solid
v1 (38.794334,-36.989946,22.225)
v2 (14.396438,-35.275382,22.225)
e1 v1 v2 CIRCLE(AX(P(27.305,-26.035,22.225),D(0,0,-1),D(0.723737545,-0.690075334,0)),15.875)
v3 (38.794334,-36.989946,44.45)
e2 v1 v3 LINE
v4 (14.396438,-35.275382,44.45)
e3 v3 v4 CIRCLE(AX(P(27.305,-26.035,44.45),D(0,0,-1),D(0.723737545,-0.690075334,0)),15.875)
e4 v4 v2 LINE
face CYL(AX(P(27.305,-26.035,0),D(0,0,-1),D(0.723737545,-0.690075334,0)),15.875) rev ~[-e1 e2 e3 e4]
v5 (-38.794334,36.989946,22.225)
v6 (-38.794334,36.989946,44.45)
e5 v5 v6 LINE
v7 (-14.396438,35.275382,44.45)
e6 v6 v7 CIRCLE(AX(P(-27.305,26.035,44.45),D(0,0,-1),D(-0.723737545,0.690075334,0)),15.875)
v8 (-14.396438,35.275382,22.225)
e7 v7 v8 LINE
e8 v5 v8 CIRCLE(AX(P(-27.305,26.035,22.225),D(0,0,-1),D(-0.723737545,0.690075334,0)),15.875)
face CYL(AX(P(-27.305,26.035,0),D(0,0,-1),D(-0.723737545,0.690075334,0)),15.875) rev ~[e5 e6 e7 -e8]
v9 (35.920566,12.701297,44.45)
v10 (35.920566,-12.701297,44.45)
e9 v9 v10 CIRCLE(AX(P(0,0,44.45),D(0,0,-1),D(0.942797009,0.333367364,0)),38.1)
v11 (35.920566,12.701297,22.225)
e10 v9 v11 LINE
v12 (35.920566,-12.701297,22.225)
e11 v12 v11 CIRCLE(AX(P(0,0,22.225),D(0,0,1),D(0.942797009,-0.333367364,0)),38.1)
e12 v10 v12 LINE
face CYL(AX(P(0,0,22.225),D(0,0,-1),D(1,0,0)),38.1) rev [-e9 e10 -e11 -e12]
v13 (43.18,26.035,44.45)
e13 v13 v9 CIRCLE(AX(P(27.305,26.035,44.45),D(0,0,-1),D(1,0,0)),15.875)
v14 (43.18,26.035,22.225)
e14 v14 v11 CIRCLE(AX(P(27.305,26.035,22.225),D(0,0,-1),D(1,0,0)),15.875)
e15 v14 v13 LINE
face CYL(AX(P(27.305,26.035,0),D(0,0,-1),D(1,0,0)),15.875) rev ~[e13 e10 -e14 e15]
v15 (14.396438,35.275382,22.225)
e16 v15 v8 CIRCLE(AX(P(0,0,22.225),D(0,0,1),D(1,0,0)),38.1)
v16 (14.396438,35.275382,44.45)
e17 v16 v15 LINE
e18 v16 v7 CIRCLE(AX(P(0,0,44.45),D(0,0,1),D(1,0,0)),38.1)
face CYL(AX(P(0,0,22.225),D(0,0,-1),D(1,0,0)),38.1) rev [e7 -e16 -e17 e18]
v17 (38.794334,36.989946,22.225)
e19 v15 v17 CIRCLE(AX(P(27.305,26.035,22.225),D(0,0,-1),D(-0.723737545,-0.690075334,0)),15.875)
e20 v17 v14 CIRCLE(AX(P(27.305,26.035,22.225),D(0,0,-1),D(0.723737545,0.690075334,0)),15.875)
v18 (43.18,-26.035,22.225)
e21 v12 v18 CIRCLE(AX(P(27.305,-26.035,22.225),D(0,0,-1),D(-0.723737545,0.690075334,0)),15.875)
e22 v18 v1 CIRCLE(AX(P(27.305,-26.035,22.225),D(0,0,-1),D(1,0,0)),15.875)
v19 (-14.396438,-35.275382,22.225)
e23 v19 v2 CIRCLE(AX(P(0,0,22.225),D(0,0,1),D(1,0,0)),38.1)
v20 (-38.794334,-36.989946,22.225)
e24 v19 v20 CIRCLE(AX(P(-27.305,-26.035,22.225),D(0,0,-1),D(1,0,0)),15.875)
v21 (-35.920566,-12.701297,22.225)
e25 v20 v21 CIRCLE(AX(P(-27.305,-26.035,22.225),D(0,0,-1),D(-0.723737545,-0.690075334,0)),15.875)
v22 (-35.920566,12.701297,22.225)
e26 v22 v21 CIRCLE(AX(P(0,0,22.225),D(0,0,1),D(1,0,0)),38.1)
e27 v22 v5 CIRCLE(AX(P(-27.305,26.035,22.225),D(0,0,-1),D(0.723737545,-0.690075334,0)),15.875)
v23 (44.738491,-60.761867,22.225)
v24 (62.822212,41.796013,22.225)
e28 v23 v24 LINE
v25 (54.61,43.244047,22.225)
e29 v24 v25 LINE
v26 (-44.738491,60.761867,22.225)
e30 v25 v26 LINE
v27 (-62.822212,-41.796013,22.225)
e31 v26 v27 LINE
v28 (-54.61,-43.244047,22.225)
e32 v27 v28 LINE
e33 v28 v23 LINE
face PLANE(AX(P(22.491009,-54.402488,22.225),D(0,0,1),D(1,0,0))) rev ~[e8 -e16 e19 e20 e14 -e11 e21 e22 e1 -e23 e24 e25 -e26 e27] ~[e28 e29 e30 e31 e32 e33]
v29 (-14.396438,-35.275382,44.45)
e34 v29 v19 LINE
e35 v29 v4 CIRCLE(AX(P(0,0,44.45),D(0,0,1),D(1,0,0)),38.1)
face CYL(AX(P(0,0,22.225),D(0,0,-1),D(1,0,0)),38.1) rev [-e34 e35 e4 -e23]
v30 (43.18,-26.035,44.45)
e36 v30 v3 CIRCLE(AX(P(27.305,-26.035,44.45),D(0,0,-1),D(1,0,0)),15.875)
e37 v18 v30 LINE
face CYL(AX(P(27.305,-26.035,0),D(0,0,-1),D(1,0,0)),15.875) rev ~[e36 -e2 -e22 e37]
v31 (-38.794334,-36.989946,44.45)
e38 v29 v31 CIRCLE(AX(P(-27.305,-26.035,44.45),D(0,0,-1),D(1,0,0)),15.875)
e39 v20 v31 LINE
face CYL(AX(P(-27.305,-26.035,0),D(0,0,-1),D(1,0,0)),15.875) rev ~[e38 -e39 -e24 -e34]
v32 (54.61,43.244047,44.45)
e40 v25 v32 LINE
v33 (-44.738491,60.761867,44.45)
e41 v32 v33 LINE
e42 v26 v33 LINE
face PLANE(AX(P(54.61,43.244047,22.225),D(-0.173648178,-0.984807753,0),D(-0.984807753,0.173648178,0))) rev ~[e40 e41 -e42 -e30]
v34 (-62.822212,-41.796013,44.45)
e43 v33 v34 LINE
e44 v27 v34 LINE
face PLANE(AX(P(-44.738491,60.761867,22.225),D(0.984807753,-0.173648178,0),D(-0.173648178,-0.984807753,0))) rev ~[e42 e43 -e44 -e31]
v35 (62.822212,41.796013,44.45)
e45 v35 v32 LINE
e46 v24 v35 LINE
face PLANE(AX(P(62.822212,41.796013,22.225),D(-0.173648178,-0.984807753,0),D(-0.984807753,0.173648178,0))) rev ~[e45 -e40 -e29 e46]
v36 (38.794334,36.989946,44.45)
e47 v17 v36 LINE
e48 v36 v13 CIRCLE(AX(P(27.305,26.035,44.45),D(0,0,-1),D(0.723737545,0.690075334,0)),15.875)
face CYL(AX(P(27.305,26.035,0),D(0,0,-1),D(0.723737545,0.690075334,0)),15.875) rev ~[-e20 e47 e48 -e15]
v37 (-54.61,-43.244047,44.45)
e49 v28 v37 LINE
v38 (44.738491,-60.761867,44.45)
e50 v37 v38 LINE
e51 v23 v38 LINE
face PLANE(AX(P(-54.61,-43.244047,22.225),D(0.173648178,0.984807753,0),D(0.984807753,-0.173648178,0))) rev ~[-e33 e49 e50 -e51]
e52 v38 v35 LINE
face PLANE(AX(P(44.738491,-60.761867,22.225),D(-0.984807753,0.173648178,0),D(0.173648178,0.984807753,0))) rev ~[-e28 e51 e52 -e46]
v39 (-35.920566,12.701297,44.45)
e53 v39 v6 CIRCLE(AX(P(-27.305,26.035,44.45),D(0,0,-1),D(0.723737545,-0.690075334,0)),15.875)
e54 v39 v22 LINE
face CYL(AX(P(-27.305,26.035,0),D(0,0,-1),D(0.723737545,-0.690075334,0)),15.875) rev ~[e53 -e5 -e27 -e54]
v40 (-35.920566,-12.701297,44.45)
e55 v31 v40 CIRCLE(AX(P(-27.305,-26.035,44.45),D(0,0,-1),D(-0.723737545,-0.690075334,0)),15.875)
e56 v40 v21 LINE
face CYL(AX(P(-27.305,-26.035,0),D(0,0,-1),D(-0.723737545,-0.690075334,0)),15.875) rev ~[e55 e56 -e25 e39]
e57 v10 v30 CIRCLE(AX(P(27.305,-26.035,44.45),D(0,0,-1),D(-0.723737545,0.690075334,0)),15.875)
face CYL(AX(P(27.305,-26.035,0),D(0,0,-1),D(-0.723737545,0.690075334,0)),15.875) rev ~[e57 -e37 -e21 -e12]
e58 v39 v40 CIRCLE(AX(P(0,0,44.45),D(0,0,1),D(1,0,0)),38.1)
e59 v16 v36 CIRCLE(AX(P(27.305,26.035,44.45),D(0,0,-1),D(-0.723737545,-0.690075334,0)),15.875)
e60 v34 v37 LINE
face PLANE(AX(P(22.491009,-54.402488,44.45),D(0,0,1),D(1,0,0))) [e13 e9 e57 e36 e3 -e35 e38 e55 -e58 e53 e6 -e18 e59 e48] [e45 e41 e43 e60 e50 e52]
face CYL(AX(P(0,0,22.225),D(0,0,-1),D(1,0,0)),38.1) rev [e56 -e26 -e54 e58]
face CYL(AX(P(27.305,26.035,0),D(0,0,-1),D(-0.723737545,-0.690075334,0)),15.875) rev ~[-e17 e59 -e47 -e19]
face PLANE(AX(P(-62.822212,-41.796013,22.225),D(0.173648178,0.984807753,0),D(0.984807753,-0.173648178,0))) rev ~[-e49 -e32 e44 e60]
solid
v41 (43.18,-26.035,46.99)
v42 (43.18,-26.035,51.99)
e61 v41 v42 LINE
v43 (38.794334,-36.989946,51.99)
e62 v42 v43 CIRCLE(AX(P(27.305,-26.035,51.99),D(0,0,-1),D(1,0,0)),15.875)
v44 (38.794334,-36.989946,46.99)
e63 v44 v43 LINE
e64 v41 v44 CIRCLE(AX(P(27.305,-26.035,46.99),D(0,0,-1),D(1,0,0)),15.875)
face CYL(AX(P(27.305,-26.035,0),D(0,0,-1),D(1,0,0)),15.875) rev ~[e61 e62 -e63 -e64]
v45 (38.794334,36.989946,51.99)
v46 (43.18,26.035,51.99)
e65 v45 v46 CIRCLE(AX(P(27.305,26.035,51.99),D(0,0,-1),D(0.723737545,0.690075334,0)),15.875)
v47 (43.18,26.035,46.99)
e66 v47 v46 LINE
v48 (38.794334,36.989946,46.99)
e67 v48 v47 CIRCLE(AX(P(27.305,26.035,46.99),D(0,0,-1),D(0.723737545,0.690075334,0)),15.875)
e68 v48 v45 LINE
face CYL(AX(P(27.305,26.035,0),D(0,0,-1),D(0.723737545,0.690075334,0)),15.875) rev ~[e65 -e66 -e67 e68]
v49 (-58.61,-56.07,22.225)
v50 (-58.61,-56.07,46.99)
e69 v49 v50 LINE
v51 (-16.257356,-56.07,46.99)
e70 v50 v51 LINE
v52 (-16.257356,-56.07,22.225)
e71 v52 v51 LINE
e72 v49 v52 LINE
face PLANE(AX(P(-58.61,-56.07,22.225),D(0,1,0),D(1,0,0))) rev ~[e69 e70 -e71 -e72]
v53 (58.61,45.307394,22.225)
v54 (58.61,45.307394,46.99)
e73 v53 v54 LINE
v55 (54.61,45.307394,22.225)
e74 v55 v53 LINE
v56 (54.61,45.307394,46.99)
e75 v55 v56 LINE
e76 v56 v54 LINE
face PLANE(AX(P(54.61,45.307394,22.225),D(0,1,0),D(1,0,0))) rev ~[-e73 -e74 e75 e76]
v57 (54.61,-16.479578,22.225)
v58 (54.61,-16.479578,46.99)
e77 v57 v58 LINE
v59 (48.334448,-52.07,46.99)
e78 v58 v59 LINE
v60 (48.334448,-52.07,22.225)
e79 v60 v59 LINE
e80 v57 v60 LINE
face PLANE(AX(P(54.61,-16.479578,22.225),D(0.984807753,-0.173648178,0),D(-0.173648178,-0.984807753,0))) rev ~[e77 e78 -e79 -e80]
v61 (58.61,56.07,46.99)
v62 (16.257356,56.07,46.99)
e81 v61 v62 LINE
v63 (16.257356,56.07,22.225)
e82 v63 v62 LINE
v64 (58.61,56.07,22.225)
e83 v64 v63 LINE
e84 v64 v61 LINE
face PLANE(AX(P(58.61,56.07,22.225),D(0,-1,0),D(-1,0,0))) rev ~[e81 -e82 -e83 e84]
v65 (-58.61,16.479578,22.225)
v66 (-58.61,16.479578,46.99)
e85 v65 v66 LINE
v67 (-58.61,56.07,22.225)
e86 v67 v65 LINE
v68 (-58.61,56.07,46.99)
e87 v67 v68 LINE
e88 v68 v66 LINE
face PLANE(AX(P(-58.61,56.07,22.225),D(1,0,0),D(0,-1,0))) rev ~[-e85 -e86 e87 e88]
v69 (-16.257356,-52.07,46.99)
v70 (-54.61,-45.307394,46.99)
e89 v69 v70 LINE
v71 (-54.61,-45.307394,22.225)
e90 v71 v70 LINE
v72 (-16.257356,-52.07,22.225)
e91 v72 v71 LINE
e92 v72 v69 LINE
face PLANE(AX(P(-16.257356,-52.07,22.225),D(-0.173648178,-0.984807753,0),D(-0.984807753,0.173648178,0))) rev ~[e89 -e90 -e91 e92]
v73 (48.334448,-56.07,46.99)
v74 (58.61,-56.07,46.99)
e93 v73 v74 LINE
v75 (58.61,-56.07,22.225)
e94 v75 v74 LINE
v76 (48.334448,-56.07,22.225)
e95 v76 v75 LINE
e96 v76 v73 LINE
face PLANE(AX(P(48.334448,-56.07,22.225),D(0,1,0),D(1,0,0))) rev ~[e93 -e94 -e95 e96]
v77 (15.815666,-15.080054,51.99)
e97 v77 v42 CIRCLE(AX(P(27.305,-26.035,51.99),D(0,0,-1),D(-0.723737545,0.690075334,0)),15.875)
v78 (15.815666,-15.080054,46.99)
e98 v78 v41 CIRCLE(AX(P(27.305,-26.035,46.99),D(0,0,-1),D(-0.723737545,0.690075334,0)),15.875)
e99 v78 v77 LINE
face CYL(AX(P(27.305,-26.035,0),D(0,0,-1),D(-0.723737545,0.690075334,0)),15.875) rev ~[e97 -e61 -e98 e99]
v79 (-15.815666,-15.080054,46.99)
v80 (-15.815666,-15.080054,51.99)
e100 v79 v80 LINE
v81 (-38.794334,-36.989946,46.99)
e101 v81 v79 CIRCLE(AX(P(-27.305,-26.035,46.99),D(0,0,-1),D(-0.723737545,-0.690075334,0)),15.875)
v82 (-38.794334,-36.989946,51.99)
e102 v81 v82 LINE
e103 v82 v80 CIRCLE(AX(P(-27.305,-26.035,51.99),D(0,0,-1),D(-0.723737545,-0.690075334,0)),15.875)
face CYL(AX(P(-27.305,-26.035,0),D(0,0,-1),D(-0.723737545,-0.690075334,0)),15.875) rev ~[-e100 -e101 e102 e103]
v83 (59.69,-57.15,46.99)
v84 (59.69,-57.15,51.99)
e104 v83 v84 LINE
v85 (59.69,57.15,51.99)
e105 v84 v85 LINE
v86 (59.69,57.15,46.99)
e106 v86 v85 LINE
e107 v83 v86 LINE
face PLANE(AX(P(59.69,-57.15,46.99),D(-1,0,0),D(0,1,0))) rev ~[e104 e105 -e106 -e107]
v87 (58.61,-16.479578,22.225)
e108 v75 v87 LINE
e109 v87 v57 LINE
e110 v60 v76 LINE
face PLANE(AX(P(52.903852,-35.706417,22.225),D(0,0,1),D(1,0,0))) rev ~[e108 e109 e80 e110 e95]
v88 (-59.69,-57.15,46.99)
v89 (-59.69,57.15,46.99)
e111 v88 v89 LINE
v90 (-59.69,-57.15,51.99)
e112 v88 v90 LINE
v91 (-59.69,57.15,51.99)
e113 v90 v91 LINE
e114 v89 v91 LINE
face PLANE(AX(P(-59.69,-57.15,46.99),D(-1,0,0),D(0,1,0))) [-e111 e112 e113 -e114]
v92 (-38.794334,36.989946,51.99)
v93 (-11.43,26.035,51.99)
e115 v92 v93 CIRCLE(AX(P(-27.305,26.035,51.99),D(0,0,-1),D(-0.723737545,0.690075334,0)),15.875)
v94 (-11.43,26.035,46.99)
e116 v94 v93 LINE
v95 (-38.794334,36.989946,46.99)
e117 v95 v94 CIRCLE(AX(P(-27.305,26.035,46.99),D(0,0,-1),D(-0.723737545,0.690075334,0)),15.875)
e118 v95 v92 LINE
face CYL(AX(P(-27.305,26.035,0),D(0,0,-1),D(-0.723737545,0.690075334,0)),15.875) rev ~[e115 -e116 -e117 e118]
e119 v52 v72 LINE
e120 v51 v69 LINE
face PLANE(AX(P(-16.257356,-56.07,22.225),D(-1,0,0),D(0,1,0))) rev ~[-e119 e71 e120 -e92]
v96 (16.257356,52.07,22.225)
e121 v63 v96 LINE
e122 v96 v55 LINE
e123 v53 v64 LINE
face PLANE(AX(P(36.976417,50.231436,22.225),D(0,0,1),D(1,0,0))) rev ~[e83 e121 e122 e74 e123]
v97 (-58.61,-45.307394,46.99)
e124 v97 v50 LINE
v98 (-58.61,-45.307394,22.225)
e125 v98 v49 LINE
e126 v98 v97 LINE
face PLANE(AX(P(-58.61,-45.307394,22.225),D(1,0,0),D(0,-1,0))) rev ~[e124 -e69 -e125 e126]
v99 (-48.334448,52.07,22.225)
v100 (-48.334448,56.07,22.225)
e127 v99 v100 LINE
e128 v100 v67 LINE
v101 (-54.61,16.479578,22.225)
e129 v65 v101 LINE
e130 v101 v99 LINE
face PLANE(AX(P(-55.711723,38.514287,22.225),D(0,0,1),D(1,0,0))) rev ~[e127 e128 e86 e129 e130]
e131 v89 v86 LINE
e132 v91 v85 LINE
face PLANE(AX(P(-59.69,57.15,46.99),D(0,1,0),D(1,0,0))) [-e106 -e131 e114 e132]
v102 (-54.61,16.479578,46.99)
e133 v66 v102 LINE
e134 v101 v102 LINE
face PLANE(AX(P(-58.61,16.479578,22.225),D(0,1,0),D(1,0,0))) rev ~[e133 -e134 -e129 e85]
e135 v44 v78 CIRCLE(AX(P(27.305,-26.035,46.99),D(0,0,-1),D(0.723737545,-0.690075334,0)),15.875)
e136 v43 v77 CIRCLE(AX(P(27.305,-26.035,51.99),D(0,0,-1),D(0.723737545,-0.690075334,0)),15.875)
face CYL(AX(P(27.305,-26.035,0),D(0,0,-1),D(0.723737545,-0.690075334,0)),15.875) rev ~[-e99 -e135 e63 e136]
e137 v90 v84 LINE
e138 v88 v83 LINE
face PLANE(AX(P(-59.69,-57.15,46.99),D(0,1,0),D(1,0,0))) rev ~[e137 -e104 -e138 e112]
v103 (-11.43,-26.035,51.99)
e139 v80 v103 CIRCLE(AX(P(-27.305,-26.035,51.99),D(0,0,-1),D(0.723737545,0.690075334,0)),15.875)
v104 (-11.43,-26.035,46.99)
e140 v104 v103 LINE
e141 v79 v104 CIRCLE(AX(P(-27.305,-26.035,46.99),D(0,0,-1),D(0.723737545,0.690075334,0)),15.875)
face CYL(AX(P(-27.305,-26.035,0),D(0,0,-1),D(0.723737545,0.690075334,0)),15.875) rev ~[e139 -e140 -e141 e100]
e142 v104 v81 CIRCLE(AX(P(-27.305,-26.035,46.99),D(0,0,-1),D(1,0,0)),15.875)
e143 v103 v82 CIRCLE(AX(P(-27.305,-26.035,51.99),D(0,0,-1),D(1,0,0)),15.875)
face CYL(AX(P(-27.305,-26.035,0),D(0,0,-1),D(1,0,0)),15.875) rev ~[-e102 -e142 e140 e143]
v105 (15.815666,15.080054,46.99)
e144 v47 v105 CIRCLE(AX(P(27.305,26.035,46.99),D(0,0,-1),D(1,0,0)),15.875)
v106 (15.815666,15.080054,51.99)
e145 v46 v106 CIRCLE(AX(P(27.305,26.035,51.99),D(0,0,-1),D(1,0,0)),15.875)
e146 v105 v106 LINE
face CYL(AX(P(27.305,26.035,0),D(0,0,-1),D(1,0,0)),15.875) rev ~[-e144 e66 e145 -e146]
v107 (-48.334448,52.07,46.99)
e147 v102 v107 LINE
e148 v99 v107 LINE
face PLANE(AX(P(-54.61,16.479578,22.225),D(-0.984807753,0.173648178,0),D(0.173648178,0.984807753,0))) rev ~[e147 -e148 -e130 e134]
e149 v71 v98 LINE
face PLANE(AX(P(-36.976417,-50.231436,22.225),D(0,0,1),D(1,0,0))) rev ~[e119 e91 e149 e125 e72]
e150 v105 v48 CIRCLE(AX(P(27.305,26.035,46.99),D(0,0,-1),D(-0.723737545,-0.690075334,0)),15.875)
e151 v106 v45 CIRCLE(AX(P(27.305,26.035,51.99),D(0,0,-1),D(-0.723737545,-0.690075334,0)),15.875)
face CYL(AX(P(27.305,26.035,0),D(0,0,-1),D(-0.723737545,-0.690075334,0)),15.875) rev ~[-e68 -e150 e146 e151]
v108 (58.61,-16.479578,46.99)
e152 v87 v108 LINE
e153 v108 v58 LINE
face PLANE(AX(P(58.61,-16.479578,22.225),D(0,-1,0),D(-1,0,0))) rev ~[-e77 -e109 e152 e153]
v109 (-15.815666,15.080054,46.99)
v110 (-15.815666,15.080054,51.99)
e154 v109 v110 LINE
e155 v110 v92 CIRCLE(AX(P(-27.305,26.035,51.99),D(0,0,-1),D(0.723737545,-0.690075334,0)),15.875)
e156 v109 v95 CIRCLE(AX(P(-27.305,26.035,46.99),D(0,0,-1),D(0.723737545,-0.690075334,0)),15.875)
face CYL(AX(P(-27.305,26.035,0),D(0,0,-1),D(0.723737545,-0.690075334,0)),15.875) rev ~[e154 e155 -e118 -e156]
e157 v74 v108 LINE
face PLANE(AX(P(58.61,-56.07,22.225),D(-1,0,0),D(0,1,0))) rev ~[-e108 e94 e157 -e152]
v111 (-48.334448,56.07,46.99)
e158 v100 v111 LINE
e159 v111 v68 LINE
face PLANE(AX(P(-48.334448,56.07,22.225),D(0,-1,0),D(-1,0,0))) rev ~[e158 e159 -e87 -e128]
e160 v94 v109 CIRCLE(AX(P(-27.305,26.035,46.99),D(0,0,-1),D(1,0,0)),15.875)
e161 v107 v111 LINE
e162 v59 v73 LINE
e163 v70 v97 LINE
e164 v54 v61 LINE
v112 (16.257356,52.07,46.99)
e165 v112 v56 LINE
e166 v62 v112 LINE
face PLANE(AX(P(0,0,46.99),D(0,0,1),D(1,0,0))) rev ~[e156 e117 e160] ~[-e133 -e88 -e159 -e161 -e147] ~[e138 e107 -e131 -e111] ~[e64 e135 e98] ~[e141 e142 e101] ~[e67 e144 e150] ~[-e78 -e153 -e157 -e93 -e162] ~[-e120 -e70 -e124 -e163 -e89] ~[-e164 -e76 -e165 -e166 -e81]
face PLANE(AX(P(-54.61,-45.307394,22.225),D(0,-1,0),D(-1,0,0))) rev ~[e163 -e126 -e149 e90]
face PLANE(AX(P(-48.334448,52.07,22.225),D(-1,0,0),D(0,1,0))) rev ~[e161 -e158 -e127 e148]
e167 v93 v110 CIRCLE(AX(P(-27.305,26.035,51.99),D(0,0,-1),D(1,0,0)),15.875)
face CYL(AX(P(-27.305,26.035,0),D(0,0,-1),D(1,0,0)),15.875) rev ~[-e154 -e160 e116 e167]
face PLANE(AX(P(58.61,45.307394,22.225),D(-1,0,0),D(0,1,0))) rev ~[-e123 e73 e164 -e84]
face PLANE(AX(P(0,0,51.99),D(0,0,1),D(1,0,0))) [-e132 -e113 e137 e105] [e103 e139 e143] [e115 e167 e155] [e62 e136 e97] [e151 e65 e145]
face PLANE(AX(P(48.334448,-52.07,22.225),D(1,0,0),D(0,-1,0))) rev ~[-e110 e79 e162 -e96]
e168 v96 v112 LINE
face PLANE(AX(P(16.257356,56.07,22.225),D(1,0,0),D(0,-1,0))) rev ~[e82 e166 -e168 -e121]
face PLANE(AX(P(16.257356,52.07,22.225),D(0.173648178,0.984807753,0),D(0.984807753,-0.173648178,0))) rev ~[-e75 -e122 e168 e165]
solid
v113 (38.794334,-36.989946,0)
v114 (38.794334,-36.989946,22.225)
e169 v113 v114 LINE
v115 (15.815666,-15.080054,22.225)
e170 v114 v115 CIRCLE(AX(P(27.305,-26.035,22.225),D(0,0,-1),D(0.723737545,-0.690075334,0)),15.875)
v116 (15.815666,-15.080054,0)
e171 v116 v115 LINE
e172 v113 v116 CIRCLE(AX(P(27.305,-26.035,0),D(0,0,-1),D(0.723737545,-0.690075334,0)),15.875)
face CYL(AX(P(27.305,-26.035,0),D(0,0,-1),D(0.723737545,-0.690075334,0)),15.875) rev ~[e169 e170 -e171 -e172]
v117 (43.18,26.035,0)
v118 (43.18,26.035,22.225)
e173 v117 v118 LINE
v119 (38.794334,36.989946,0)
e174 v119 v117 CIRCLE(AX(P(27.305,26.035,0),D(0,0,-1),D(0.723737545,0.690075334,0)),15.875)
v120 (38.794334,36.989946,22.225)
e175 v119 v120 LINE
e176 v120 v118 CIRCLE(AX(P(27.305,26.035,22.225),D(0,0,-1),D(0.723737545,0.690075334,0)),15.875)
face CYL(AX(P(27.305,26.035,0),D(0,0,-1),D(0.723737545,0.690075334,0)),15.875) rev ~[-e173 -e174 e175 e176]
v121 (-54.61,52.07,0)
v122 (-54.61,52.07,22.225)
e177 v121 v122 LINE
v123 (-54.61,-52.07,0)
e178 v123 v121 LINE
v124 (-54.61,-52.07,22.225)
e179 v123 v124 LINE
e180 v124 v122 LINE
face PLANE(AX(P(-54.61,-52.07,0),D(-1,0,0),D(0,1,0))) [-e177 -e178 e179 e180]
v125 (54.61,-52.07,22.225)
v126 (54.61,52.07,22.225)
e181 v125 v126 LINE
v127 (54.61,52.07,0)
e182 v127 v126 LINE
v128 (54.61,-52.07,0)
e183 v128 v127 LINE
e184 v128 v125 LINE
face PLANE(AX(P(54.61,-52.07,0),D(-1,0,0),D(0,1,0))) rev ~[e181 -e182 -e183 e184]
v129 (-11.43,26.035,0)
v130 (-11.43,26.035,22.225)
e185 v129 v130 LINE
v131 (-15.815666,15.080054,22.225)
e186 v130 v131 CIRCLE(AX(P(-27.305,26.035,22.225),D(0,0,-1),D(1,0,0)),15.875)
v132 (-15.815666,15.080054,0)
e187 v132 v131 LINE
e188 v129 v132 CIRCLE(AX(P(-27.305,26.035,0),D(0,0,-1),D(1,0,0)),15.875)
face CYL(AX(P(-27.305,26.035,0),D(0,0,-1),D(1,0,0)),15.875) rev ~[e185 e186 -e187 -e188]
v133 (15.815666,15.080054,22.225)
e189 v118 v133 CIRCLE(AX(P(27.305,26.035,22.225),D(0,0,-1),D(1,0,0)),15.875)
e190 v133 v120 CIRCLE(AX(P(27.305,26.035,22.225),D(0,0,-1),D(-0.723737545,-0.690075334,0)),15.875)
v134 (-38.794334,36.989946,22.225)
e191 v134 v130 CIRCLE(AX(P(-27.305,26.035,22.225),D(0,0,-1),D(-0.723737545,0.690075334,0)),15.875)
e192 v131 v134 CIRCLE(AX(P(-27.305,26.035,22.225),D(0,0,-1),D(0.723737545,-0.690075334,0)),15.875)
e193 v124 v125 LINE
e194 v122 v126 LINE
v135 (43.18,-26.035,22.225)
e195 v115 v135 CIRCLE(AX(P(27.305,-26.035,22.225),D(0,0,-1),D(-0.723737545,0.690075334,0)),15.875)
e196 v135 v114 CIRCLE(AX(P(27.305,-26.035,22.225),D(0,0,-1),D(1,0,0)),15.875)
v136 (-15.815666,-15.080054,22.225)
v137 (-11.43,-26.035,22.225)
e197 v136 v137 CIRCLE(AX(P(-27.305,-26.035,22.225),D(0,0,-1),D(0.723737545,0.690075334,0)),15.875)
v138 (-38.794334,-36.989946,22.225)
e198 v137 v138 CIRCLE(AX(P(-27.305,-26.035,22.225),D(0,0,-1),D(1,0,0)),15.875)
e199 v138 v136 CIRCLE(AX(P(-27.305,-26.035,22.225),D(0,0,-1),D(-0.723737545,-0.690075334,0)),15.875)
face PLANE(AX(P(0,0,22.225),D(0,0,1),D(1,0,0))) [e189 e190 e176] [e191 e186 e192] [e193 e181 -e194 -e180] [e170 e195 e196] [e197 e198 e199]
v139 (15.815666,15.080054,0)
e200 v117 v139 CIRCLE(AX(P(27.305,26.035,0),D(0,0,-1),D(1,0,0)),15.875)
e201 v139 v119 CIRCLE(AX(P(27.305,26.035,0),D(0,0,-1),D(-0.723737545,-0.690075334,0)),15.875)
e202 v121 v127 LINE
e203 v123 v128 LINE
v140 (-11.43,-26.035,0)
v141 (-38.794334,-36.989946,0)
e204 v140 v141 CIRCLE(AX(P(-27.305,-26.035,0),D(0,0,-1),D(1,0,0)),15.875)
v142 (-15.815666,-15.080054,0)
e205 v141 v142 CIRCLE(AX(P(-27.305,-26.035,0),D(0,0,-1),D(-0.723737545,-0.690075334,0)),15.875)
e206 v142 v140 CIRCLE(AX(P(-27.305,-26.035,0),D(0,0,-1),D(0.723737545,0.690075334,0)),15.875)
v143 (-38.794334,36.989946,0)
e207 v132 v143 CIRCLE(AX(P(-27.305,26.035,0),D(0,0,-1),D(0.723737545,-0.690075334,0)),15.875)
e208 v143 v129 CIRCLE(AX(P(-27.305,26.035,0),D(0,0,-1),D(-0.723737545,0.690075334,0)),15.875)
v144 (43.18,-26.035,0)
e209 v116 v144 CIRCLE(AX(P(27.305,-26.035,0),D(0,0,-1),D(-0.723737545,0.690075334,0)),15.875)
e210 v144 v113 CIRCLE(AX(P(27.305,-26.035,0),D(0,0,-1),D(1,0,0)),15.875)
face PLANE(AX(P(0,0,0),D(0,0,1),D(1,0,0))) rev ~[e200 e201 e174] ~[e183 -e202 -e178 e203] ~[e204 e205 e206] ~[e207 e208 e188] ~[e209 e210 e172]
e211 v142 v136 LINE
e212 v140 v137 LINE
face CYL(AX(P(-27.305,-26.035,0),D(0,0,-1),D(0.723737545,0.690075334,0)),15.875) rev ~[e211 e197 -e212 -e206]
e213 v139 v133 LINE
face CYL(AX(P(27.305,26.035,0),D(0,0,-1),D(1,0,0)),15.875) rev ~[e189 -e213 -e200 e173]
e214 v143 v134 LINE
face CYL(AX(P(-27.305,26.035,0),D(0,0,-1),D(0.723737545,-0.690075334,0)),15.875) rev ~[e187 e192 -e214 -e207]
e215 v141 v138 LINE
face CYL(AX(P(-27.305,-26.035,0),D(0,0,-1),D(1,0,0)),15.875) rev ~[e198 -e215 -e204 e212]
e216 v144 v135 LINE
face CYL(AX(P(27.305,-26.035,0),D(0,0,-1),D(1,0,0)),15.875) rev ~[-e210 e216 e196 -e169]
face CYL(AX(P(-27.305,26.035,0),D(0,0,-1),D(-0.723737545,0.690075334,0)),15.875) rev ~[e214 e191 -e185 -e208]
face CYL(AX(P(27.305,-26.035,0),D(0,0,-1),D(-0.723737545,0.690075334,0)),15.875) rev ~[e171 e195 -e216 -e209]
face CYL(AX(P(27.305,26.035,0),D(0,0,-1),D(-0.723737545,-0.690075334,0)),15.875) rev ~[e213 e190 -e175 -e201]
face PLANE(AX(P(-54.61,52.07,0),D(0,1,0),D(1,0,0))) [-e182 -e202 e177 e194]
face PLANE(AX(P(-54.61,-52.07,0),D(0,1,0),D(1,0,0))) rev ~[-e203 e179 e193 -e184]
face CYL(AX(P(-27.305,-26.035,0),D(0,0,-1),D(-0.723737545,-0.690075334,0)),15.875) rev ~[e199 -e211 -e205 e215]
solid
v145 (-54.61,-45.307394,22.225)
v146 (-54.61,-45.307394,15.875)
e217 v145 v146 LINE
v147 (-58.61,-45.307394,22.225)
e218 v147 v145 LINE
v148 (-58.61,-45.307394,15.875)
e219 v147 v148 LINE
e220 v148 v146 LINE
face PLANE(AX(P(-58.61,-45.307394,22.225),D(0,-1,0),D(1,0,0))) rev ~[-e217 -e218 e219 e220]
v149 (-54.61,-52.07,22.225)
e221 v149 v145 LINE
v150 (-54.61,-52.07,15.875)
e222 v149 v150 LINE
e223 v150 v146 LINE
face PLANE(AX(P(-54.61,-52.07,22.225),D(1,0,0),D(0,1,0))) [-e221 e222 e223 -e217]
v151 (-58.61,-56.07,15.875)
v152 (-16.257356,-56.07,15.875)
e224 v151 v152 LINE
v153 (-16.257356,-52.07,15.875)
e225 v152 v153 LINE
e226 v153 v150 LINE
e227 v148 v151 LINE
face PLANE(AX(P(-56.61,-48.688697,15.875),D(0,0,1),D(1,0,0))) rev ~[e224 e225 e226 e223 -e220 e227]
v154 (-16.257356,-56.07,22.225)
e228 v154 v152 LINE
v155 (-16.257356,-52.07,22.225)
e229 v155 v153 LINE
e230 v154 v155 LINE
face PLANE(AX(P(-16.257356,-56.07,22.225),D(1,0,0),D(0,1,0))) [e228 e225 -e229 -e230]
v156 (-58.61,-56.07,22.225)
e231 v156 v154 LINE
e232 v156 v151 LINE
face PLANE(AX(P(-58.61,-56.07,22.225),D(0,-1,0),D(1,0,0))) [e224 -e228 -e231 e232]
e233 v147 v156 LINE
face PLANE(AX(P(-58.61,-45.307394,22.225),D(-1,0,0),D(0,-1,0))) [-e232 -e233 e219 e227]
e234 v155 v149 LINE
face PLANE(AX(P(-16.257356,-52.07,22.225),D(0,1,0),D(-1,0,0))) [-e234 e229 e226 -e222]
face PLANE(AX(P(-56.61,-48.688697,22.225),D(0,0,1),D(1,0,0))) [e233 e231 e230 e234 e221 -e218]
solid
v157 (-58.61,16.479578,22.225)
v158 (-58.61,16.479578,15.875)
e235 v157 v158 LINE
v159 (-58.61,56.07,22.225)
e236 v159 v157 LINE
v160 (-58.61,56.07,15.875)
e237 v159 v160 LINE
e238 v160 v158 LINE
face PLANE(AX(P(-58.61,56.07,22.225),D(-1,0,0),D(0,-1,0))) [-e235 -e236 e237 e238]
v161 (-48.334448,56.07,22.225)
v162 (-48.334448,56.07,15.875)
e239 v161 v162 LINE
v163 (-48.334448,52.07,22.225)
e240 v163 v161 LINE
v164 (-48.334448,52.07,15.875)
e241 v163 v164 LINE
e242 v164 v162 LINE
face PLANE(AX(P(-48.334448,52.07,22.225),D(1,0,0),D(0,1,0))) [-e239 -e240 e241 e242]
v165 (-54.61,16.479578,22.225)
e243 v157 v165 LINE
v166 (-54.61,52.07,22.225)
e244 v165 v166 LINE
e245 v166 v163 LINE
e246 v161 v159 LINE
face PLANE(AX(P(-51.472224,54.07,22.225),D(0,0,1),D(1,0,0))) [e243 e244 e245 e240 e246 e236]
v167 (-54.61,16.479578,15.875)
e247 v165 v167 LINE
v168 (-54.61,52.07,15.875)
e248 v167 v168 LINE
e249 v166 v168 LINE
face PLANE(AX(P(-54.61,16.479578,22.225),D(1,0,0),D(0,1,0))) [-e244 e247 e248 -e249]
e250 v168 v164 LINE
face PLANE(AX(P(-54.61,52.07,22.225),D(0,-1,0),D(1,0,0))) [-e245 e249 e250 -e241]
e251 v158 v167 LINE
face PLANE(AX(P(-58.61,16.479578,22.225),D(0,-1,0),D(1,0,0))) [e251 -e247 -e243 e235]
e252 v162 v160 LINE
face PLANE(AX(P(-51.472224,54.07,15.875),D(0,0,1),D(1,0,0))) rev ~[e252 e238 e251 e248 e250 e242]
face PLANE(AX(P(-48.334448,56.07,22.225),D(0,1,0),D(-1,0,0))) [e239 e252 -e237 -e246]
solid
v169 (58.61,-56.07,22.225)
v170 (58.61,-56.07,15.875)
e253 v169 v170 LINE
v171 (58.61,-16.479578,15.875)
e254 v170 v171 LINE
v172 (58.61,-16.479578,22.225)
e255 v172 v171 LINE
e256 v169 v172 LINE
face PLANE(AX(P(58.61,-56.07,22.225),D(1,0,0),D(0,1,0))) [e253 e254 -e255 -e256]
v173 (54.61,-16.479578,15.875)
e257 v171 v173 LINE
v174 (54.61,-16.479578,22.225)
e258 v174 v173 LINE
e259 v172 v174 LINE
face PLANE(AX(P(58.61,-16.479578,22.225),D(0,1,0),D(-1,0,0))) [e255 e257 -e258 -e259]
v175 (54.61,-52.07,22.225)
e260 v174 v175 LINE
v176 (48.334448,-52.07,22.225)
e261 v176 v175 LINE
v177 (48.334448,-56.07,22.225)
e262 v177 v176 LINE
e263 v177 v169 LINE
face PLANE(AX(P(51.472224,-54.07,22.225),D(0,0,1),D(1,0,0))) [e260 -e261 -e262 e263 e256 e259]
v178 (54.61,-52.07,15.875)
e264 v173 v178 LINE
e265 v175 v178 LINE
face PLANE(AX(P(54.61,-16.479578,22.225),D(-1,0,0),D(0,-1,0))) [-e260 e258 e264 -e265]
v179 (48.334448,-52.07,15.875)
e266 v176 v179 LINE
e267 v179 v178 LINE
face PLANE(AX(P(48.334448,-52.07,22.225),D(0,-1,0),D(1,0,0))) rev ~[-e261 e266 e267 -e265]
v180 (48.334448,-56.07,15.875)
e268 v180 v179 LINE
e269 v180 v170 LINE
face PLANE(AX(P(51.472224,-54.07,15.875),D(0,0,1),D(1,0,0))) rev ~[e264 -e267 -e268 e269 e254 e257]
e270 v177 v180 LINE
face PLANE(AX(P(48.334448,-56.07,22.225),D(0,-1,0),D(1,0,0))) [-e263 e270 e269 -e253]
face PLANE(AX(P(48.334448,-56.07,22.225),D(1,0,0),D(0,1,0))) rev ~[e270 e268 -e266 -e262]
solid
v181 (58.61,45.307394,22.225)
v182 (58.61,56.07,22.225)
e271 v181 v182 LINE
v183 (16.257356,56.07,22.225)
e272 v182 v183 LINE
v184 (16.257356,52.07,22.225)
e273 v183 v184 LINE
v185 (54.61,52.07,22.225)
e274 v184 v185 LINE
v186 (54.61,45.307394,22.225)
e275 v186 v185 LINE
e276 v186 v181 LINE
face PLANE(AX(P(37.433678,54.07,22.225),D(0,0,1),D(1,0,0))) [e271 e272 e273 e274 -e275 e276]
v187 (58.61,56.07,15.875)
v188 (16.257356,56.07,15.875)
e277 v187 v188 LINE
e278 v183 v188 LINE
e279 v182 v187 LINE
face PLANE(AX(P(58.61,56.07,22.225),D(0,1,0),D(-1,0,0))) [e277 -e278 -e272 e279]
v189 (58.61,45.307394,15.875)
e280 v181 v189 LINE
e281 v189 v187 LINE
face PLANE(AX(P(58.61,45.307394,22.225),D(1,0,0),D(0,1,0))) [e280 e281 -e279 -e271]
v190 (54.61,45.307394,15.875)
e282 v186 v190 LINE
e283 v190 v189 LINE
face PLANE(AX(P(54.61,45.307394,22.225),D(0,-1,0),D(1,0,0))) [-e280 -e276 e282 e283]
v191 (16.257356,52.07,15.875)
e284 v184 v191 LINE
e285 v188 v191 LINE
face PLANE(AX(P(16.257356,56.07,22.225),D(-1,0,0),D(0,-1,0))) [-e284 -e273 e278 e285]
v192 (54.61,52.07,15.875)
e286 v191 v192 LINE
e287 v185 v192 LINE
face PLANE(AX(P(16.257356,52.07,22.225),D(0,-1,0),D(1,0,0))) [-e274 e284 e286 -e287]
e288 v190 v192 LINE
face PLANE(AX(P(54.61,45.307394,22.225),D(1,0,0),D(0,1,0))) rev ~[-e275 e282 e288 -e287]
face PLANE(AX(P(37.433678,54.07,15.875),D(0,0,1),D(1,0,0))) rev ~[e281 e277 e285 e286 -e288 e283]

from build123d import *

# Parameters (mm, degrees)
F0_W      = 109.22
F0_H      = 104.14
F1_DEPTH  = 22.225
F2_R      = 38.1
F3_DEPTH  = 22.225
F4_W      = 6.2755517351
F4_H      = 4
F5_DEPTH  = 6.35
F4_W_2    = 4
F4_H_2    = 6.7626058602
F6_DEPTH  = 25.4
F8_W      = 119.38
F8_H      = 114.3
F9_DEPTH  = 5
F11_DEPTH = 89.408


with BuildPart() as f1:
    # F0 (on Top) → F1 (new body)
    with BuildSketch(Plane.XY):
        Rectangle(F0_W, F0_H)
    extrude(amount=F1_DEPTH)


with BuildPart() as f3:
    # F2 (on face) → F3 (new body)
    with BuildSketch(Plane.XY.offset(22.225)):
        Polygon((-4.5555347098, -52.07), (44.7384907809, -60.7618666817), (46.2711013896, -52.07), align=None)
        Polygon((-54.61, -43.2440472644), (-4.5555347098, -52.07), (46.2711013896, -52.07), (54.61, -4.7777559152), (54.61, 43.2440472644), (4.5555347098, 52.07), (-46.2711013896, 52.07), (-54.61, 4.7777559152), align=None)
        Circle(F2_R, mode=Mode.SUBTRACT)
        Polygon((54.61, 43.2440472644), (54.61, -4.7777559152), (62.8222120031, 41.796012717), align=None)
        Polygon((-44.7384907809, 60.7618666817), (-46.2711013896, 52.07), (4.5555347098, 52.07), align=None)
        Polygon((-62.8222120031, -41.796012717), (-54.61, -43.2440472644), (-54.61, 4.7777559152), align=None)
    extrude(amount=F3_DEPTH)


with BuildPart() as f5:
    # F4 (on face) → F5 (new body)
    with BuildSketch(Plane.XY.offset(22.225)):
        with Locations((-51.4722241325, 54.07)):
            Rectangle(F4_W, F4_H)
        Polygon((-54.61, 16.4795775369), (-54.61, 52.07), (-54.61, 56.07), (-58.61, 56.07), (-58.61, 16.4795775369), align=None)
    extrude(amount=-F5_DEPTH)


with BuildPart() as f5b:
    # F4 (on face) → F5, piece 2 (new body)
    with BuildSketch(Plane.XY.offset(22.225)):
        with Locations((-56.61, -48.6886970699)):
            Rectangle(F4_W_2, F4_H_2)
        Polygon((-16.2573563315, -56.07), (-16.2573563315, -52.07), (-54.61, -52.07), (-58.61, -52.07), (-58.61, -56.07), align=None)
    extrude(amount=-F5_DEPTH)


with BuildPart() as f5c:
    # F4 (on face) → F5, piece 3 (new body)
    with BuildSketch(Plane.XY.offset(22.225)):
        with Locations((51.4722241325, -54.07)):
            Rectangle(F4_W, F4_H)
        Polygon((58.61, -16.4795775369), (54.61, -16.4795775369), (54.61, -52.07), (54.61, -56.07), (58.61, -56.07), align=None)
    extrude(amount=-F5_DEPTH)


with BuildPart() as f5d:
    # F4 (on face) → F5, piece 4 (new body)
    with BuildSketch(Plane.XY.offset(22.225)):
        Polygon((16.2573563315, 56.07), (16.2573563315, 52.07), (54.61, 52.07), (58.61, 52.07), (58.61, 56.07), align=None)
        with Locations((56.61, 48.6886970699)):
            Rectangle(F4_W_2, F4_H_2)
    extrude(amount=-F5_DEPTH)


with BuildPart() as f6:
    # F4 (on face) + F5_face (on face) → F6 (new body)
    with BuildSketch(Plane.XY.offset(22.225)):
        Polygon((54.61, -16.4795775369), (48.3344482649, -52.07), (54.61, -52.07), align=None)
        Polygon((54.61, 52.07), (16.2573563315, 52.07), (54.61, 45.3073941398), align=None)
        Polygon((-48.3344482649, 52.07), (-54.61, 52.07), (-54.61, 16.4795775369), align=None)
        Polygon((-16.2573563315, -52.07), (-54.61, -45.3073941398), (-54.61, -52.07), align=None)
    with BuildSketch(Plane(origin=(40.074037477, 53.3290563811, 22.225), x_dir=(1, 0, 0), z_dir=(0, 0, 1))):
        Polygon((-23.8166811454, 2.7409436189), (-23.8166811454, -1.2590563811), (14.535962523, -1.2590563811), (14.535962523, -8.0216622413), (18.535962523, -8.0216622413), (18.535962523, 2.7409436189), align=None)
        Polygon((8.260410788, -105.3990563811), (8.260410788, -109.3990563811), (18.535962523, -109.3990563811), (18.535962523, -69.808633918), (14.535962523, -69.808633918), (14.535962523, -105.3990563811), align=None)
        Polygon((-94.684037477, -105.3990563811), (-94.684037477, -98.6364505208), (-98.684037477, -98.6364505208), (-98.684037477, -109.3990563811), (-56.3313938085, -109.3990563811), (-56.3313938085, -105.3990563811), align=None)
        Polygon((-94.684037477, -1.2590563811), (-88.4084857419, -1.2590563811), (-88.4084857419, 2.7409436189), (-98.684037477, 2.7409436189), (-98.684037477, -36.8494788442), (-94.684037477, -36.8494788442), align=None)
    extrude(amount=F6_DEPTH)

    # F8 (on offset) → F9 (join)
    with BuildSketch(Plane.XY.offset(46.99)):
        Rectangle(F8_W, F8_H)
    extrude(amount=F9_DEPTH)


with BuildPart() as f11_tool:
    # F10 (on face) → F11 (new body)
    with BuildSketch(Plane(origin=(0, 0, 0), x_dir=(1, 0, 0), z_dir=(0, 0, -1))):
        with BuildLine():
            Line((-38.7943335263, 36.9899459205), (-15.8156664737, 15.0800540795))
            ThreePointArc((-15.8156664737, 15.0800540795), (-12.5671440716, 20.1348959641), (-11.43, 26.035))
            ThreePointArc((-11.43, 26.035), (-21.4048959641, 40.7728559284), (-38.7943335263, 36.9899459205))
        make_face()
        with BuildLine():
            ThreePointArc((-38.7943335263, 36.9899459205), (-38.2599459205, 14.5456664737), (-15.8156664737, 15.0800540795))
            Line((-15.8156664737, 15.0800540795), (-38.7943335263, 36.9899459205))
        make_face()
        with BuildLine():
            Line((-38.7943335263, -36.9899459205), (-15.8156664737, -15.0800540795))
            ThreePointArc((-15.8156664737, -15.0800540795), (-38.2599459205, -14.5456664737), (-38.7943335263, -36.9899459205))
        make_face()
        with BuildLine():
            ThreePointArc((-11.43, -26.035), (-12.5671440716, -20.1348959641), (-15.8156664737, -15.0800540795))
            Line((-15.8156664737, -15.0800540795), (-38.7943335263, -36.9899459205))
            ThreePointArc((-38.7943335263, -36.9899459205), (-21.4048959641, -40.7728559284), (-11.43, -26.035))
        make_face()
        with BuildLine():
            Line((38.7943335263, -36.9899459205), (15.8156664737, -15.0800540795))
            ThreePointArc((15.8156664737, -15.0800540795), (16.3500540795, -37.5243335263), (38.7943335263, -36.9899459205))
        make_face()
        with BuildLine():
            ThreePointArc((43.18, -26.035), (33.2051040359, -11.2971440716), (15.8156664737, -15.0800540795))
            Line((15.8156664737, -15.0800540795), (38.7943335263, -36.9899459205))
            ThreePointArc((38.7943335263, -36.9899459205), (42.0428559284, -31.9351040359), (43.18, -26.035))
        make_face()
        with BuildLine():
            Line((38.7943335263, 36.9899459205), (15.8156664737, 15.0800540795))
            ThreePointArc((15.8156664737, 15.0800540795), (33.2051040359, 11.2971440716), (43.18, 26.035))
            ThreePointArc((43.18, 26.035), (42.0428559284, 31.9351040359), (38.7943335263, 36.9899459205))
        make_face()
        with BuildLine():
            ThreePointArc((38.7943335263, 36.9899459205), (16.3500540795, 37.5243335263), (15.8156664737, 15.0800540795))
            Line((15.8156664737, 15.0800540795), (38.7943335263, 36.9899459205))
        make_face()
    extrude(amount=-F11_DEPTH)


with BuildPart() as f1_1:
    add(f1.part)

    # F11: cut by f11_tool
    add(f11_tool.part, mode=Mode.SUBTRACT)


with BuildPart() as f3_1:
    add(f3.part)

    # F11: cut by f11_tool
    add(f11_tool.part, mode=Mode.SUBTRACT)


with BuildPart() as f6_1:
    add(f6.part)

    # F11: cut by f11_tool
    add(f11_tool.part, mode=Mode.SUBTRACT)


solid = Compound([f5.part, f5b.part, f5c.part, f5d.part, f1_1.part, f3_1.part, f6_1.part])
